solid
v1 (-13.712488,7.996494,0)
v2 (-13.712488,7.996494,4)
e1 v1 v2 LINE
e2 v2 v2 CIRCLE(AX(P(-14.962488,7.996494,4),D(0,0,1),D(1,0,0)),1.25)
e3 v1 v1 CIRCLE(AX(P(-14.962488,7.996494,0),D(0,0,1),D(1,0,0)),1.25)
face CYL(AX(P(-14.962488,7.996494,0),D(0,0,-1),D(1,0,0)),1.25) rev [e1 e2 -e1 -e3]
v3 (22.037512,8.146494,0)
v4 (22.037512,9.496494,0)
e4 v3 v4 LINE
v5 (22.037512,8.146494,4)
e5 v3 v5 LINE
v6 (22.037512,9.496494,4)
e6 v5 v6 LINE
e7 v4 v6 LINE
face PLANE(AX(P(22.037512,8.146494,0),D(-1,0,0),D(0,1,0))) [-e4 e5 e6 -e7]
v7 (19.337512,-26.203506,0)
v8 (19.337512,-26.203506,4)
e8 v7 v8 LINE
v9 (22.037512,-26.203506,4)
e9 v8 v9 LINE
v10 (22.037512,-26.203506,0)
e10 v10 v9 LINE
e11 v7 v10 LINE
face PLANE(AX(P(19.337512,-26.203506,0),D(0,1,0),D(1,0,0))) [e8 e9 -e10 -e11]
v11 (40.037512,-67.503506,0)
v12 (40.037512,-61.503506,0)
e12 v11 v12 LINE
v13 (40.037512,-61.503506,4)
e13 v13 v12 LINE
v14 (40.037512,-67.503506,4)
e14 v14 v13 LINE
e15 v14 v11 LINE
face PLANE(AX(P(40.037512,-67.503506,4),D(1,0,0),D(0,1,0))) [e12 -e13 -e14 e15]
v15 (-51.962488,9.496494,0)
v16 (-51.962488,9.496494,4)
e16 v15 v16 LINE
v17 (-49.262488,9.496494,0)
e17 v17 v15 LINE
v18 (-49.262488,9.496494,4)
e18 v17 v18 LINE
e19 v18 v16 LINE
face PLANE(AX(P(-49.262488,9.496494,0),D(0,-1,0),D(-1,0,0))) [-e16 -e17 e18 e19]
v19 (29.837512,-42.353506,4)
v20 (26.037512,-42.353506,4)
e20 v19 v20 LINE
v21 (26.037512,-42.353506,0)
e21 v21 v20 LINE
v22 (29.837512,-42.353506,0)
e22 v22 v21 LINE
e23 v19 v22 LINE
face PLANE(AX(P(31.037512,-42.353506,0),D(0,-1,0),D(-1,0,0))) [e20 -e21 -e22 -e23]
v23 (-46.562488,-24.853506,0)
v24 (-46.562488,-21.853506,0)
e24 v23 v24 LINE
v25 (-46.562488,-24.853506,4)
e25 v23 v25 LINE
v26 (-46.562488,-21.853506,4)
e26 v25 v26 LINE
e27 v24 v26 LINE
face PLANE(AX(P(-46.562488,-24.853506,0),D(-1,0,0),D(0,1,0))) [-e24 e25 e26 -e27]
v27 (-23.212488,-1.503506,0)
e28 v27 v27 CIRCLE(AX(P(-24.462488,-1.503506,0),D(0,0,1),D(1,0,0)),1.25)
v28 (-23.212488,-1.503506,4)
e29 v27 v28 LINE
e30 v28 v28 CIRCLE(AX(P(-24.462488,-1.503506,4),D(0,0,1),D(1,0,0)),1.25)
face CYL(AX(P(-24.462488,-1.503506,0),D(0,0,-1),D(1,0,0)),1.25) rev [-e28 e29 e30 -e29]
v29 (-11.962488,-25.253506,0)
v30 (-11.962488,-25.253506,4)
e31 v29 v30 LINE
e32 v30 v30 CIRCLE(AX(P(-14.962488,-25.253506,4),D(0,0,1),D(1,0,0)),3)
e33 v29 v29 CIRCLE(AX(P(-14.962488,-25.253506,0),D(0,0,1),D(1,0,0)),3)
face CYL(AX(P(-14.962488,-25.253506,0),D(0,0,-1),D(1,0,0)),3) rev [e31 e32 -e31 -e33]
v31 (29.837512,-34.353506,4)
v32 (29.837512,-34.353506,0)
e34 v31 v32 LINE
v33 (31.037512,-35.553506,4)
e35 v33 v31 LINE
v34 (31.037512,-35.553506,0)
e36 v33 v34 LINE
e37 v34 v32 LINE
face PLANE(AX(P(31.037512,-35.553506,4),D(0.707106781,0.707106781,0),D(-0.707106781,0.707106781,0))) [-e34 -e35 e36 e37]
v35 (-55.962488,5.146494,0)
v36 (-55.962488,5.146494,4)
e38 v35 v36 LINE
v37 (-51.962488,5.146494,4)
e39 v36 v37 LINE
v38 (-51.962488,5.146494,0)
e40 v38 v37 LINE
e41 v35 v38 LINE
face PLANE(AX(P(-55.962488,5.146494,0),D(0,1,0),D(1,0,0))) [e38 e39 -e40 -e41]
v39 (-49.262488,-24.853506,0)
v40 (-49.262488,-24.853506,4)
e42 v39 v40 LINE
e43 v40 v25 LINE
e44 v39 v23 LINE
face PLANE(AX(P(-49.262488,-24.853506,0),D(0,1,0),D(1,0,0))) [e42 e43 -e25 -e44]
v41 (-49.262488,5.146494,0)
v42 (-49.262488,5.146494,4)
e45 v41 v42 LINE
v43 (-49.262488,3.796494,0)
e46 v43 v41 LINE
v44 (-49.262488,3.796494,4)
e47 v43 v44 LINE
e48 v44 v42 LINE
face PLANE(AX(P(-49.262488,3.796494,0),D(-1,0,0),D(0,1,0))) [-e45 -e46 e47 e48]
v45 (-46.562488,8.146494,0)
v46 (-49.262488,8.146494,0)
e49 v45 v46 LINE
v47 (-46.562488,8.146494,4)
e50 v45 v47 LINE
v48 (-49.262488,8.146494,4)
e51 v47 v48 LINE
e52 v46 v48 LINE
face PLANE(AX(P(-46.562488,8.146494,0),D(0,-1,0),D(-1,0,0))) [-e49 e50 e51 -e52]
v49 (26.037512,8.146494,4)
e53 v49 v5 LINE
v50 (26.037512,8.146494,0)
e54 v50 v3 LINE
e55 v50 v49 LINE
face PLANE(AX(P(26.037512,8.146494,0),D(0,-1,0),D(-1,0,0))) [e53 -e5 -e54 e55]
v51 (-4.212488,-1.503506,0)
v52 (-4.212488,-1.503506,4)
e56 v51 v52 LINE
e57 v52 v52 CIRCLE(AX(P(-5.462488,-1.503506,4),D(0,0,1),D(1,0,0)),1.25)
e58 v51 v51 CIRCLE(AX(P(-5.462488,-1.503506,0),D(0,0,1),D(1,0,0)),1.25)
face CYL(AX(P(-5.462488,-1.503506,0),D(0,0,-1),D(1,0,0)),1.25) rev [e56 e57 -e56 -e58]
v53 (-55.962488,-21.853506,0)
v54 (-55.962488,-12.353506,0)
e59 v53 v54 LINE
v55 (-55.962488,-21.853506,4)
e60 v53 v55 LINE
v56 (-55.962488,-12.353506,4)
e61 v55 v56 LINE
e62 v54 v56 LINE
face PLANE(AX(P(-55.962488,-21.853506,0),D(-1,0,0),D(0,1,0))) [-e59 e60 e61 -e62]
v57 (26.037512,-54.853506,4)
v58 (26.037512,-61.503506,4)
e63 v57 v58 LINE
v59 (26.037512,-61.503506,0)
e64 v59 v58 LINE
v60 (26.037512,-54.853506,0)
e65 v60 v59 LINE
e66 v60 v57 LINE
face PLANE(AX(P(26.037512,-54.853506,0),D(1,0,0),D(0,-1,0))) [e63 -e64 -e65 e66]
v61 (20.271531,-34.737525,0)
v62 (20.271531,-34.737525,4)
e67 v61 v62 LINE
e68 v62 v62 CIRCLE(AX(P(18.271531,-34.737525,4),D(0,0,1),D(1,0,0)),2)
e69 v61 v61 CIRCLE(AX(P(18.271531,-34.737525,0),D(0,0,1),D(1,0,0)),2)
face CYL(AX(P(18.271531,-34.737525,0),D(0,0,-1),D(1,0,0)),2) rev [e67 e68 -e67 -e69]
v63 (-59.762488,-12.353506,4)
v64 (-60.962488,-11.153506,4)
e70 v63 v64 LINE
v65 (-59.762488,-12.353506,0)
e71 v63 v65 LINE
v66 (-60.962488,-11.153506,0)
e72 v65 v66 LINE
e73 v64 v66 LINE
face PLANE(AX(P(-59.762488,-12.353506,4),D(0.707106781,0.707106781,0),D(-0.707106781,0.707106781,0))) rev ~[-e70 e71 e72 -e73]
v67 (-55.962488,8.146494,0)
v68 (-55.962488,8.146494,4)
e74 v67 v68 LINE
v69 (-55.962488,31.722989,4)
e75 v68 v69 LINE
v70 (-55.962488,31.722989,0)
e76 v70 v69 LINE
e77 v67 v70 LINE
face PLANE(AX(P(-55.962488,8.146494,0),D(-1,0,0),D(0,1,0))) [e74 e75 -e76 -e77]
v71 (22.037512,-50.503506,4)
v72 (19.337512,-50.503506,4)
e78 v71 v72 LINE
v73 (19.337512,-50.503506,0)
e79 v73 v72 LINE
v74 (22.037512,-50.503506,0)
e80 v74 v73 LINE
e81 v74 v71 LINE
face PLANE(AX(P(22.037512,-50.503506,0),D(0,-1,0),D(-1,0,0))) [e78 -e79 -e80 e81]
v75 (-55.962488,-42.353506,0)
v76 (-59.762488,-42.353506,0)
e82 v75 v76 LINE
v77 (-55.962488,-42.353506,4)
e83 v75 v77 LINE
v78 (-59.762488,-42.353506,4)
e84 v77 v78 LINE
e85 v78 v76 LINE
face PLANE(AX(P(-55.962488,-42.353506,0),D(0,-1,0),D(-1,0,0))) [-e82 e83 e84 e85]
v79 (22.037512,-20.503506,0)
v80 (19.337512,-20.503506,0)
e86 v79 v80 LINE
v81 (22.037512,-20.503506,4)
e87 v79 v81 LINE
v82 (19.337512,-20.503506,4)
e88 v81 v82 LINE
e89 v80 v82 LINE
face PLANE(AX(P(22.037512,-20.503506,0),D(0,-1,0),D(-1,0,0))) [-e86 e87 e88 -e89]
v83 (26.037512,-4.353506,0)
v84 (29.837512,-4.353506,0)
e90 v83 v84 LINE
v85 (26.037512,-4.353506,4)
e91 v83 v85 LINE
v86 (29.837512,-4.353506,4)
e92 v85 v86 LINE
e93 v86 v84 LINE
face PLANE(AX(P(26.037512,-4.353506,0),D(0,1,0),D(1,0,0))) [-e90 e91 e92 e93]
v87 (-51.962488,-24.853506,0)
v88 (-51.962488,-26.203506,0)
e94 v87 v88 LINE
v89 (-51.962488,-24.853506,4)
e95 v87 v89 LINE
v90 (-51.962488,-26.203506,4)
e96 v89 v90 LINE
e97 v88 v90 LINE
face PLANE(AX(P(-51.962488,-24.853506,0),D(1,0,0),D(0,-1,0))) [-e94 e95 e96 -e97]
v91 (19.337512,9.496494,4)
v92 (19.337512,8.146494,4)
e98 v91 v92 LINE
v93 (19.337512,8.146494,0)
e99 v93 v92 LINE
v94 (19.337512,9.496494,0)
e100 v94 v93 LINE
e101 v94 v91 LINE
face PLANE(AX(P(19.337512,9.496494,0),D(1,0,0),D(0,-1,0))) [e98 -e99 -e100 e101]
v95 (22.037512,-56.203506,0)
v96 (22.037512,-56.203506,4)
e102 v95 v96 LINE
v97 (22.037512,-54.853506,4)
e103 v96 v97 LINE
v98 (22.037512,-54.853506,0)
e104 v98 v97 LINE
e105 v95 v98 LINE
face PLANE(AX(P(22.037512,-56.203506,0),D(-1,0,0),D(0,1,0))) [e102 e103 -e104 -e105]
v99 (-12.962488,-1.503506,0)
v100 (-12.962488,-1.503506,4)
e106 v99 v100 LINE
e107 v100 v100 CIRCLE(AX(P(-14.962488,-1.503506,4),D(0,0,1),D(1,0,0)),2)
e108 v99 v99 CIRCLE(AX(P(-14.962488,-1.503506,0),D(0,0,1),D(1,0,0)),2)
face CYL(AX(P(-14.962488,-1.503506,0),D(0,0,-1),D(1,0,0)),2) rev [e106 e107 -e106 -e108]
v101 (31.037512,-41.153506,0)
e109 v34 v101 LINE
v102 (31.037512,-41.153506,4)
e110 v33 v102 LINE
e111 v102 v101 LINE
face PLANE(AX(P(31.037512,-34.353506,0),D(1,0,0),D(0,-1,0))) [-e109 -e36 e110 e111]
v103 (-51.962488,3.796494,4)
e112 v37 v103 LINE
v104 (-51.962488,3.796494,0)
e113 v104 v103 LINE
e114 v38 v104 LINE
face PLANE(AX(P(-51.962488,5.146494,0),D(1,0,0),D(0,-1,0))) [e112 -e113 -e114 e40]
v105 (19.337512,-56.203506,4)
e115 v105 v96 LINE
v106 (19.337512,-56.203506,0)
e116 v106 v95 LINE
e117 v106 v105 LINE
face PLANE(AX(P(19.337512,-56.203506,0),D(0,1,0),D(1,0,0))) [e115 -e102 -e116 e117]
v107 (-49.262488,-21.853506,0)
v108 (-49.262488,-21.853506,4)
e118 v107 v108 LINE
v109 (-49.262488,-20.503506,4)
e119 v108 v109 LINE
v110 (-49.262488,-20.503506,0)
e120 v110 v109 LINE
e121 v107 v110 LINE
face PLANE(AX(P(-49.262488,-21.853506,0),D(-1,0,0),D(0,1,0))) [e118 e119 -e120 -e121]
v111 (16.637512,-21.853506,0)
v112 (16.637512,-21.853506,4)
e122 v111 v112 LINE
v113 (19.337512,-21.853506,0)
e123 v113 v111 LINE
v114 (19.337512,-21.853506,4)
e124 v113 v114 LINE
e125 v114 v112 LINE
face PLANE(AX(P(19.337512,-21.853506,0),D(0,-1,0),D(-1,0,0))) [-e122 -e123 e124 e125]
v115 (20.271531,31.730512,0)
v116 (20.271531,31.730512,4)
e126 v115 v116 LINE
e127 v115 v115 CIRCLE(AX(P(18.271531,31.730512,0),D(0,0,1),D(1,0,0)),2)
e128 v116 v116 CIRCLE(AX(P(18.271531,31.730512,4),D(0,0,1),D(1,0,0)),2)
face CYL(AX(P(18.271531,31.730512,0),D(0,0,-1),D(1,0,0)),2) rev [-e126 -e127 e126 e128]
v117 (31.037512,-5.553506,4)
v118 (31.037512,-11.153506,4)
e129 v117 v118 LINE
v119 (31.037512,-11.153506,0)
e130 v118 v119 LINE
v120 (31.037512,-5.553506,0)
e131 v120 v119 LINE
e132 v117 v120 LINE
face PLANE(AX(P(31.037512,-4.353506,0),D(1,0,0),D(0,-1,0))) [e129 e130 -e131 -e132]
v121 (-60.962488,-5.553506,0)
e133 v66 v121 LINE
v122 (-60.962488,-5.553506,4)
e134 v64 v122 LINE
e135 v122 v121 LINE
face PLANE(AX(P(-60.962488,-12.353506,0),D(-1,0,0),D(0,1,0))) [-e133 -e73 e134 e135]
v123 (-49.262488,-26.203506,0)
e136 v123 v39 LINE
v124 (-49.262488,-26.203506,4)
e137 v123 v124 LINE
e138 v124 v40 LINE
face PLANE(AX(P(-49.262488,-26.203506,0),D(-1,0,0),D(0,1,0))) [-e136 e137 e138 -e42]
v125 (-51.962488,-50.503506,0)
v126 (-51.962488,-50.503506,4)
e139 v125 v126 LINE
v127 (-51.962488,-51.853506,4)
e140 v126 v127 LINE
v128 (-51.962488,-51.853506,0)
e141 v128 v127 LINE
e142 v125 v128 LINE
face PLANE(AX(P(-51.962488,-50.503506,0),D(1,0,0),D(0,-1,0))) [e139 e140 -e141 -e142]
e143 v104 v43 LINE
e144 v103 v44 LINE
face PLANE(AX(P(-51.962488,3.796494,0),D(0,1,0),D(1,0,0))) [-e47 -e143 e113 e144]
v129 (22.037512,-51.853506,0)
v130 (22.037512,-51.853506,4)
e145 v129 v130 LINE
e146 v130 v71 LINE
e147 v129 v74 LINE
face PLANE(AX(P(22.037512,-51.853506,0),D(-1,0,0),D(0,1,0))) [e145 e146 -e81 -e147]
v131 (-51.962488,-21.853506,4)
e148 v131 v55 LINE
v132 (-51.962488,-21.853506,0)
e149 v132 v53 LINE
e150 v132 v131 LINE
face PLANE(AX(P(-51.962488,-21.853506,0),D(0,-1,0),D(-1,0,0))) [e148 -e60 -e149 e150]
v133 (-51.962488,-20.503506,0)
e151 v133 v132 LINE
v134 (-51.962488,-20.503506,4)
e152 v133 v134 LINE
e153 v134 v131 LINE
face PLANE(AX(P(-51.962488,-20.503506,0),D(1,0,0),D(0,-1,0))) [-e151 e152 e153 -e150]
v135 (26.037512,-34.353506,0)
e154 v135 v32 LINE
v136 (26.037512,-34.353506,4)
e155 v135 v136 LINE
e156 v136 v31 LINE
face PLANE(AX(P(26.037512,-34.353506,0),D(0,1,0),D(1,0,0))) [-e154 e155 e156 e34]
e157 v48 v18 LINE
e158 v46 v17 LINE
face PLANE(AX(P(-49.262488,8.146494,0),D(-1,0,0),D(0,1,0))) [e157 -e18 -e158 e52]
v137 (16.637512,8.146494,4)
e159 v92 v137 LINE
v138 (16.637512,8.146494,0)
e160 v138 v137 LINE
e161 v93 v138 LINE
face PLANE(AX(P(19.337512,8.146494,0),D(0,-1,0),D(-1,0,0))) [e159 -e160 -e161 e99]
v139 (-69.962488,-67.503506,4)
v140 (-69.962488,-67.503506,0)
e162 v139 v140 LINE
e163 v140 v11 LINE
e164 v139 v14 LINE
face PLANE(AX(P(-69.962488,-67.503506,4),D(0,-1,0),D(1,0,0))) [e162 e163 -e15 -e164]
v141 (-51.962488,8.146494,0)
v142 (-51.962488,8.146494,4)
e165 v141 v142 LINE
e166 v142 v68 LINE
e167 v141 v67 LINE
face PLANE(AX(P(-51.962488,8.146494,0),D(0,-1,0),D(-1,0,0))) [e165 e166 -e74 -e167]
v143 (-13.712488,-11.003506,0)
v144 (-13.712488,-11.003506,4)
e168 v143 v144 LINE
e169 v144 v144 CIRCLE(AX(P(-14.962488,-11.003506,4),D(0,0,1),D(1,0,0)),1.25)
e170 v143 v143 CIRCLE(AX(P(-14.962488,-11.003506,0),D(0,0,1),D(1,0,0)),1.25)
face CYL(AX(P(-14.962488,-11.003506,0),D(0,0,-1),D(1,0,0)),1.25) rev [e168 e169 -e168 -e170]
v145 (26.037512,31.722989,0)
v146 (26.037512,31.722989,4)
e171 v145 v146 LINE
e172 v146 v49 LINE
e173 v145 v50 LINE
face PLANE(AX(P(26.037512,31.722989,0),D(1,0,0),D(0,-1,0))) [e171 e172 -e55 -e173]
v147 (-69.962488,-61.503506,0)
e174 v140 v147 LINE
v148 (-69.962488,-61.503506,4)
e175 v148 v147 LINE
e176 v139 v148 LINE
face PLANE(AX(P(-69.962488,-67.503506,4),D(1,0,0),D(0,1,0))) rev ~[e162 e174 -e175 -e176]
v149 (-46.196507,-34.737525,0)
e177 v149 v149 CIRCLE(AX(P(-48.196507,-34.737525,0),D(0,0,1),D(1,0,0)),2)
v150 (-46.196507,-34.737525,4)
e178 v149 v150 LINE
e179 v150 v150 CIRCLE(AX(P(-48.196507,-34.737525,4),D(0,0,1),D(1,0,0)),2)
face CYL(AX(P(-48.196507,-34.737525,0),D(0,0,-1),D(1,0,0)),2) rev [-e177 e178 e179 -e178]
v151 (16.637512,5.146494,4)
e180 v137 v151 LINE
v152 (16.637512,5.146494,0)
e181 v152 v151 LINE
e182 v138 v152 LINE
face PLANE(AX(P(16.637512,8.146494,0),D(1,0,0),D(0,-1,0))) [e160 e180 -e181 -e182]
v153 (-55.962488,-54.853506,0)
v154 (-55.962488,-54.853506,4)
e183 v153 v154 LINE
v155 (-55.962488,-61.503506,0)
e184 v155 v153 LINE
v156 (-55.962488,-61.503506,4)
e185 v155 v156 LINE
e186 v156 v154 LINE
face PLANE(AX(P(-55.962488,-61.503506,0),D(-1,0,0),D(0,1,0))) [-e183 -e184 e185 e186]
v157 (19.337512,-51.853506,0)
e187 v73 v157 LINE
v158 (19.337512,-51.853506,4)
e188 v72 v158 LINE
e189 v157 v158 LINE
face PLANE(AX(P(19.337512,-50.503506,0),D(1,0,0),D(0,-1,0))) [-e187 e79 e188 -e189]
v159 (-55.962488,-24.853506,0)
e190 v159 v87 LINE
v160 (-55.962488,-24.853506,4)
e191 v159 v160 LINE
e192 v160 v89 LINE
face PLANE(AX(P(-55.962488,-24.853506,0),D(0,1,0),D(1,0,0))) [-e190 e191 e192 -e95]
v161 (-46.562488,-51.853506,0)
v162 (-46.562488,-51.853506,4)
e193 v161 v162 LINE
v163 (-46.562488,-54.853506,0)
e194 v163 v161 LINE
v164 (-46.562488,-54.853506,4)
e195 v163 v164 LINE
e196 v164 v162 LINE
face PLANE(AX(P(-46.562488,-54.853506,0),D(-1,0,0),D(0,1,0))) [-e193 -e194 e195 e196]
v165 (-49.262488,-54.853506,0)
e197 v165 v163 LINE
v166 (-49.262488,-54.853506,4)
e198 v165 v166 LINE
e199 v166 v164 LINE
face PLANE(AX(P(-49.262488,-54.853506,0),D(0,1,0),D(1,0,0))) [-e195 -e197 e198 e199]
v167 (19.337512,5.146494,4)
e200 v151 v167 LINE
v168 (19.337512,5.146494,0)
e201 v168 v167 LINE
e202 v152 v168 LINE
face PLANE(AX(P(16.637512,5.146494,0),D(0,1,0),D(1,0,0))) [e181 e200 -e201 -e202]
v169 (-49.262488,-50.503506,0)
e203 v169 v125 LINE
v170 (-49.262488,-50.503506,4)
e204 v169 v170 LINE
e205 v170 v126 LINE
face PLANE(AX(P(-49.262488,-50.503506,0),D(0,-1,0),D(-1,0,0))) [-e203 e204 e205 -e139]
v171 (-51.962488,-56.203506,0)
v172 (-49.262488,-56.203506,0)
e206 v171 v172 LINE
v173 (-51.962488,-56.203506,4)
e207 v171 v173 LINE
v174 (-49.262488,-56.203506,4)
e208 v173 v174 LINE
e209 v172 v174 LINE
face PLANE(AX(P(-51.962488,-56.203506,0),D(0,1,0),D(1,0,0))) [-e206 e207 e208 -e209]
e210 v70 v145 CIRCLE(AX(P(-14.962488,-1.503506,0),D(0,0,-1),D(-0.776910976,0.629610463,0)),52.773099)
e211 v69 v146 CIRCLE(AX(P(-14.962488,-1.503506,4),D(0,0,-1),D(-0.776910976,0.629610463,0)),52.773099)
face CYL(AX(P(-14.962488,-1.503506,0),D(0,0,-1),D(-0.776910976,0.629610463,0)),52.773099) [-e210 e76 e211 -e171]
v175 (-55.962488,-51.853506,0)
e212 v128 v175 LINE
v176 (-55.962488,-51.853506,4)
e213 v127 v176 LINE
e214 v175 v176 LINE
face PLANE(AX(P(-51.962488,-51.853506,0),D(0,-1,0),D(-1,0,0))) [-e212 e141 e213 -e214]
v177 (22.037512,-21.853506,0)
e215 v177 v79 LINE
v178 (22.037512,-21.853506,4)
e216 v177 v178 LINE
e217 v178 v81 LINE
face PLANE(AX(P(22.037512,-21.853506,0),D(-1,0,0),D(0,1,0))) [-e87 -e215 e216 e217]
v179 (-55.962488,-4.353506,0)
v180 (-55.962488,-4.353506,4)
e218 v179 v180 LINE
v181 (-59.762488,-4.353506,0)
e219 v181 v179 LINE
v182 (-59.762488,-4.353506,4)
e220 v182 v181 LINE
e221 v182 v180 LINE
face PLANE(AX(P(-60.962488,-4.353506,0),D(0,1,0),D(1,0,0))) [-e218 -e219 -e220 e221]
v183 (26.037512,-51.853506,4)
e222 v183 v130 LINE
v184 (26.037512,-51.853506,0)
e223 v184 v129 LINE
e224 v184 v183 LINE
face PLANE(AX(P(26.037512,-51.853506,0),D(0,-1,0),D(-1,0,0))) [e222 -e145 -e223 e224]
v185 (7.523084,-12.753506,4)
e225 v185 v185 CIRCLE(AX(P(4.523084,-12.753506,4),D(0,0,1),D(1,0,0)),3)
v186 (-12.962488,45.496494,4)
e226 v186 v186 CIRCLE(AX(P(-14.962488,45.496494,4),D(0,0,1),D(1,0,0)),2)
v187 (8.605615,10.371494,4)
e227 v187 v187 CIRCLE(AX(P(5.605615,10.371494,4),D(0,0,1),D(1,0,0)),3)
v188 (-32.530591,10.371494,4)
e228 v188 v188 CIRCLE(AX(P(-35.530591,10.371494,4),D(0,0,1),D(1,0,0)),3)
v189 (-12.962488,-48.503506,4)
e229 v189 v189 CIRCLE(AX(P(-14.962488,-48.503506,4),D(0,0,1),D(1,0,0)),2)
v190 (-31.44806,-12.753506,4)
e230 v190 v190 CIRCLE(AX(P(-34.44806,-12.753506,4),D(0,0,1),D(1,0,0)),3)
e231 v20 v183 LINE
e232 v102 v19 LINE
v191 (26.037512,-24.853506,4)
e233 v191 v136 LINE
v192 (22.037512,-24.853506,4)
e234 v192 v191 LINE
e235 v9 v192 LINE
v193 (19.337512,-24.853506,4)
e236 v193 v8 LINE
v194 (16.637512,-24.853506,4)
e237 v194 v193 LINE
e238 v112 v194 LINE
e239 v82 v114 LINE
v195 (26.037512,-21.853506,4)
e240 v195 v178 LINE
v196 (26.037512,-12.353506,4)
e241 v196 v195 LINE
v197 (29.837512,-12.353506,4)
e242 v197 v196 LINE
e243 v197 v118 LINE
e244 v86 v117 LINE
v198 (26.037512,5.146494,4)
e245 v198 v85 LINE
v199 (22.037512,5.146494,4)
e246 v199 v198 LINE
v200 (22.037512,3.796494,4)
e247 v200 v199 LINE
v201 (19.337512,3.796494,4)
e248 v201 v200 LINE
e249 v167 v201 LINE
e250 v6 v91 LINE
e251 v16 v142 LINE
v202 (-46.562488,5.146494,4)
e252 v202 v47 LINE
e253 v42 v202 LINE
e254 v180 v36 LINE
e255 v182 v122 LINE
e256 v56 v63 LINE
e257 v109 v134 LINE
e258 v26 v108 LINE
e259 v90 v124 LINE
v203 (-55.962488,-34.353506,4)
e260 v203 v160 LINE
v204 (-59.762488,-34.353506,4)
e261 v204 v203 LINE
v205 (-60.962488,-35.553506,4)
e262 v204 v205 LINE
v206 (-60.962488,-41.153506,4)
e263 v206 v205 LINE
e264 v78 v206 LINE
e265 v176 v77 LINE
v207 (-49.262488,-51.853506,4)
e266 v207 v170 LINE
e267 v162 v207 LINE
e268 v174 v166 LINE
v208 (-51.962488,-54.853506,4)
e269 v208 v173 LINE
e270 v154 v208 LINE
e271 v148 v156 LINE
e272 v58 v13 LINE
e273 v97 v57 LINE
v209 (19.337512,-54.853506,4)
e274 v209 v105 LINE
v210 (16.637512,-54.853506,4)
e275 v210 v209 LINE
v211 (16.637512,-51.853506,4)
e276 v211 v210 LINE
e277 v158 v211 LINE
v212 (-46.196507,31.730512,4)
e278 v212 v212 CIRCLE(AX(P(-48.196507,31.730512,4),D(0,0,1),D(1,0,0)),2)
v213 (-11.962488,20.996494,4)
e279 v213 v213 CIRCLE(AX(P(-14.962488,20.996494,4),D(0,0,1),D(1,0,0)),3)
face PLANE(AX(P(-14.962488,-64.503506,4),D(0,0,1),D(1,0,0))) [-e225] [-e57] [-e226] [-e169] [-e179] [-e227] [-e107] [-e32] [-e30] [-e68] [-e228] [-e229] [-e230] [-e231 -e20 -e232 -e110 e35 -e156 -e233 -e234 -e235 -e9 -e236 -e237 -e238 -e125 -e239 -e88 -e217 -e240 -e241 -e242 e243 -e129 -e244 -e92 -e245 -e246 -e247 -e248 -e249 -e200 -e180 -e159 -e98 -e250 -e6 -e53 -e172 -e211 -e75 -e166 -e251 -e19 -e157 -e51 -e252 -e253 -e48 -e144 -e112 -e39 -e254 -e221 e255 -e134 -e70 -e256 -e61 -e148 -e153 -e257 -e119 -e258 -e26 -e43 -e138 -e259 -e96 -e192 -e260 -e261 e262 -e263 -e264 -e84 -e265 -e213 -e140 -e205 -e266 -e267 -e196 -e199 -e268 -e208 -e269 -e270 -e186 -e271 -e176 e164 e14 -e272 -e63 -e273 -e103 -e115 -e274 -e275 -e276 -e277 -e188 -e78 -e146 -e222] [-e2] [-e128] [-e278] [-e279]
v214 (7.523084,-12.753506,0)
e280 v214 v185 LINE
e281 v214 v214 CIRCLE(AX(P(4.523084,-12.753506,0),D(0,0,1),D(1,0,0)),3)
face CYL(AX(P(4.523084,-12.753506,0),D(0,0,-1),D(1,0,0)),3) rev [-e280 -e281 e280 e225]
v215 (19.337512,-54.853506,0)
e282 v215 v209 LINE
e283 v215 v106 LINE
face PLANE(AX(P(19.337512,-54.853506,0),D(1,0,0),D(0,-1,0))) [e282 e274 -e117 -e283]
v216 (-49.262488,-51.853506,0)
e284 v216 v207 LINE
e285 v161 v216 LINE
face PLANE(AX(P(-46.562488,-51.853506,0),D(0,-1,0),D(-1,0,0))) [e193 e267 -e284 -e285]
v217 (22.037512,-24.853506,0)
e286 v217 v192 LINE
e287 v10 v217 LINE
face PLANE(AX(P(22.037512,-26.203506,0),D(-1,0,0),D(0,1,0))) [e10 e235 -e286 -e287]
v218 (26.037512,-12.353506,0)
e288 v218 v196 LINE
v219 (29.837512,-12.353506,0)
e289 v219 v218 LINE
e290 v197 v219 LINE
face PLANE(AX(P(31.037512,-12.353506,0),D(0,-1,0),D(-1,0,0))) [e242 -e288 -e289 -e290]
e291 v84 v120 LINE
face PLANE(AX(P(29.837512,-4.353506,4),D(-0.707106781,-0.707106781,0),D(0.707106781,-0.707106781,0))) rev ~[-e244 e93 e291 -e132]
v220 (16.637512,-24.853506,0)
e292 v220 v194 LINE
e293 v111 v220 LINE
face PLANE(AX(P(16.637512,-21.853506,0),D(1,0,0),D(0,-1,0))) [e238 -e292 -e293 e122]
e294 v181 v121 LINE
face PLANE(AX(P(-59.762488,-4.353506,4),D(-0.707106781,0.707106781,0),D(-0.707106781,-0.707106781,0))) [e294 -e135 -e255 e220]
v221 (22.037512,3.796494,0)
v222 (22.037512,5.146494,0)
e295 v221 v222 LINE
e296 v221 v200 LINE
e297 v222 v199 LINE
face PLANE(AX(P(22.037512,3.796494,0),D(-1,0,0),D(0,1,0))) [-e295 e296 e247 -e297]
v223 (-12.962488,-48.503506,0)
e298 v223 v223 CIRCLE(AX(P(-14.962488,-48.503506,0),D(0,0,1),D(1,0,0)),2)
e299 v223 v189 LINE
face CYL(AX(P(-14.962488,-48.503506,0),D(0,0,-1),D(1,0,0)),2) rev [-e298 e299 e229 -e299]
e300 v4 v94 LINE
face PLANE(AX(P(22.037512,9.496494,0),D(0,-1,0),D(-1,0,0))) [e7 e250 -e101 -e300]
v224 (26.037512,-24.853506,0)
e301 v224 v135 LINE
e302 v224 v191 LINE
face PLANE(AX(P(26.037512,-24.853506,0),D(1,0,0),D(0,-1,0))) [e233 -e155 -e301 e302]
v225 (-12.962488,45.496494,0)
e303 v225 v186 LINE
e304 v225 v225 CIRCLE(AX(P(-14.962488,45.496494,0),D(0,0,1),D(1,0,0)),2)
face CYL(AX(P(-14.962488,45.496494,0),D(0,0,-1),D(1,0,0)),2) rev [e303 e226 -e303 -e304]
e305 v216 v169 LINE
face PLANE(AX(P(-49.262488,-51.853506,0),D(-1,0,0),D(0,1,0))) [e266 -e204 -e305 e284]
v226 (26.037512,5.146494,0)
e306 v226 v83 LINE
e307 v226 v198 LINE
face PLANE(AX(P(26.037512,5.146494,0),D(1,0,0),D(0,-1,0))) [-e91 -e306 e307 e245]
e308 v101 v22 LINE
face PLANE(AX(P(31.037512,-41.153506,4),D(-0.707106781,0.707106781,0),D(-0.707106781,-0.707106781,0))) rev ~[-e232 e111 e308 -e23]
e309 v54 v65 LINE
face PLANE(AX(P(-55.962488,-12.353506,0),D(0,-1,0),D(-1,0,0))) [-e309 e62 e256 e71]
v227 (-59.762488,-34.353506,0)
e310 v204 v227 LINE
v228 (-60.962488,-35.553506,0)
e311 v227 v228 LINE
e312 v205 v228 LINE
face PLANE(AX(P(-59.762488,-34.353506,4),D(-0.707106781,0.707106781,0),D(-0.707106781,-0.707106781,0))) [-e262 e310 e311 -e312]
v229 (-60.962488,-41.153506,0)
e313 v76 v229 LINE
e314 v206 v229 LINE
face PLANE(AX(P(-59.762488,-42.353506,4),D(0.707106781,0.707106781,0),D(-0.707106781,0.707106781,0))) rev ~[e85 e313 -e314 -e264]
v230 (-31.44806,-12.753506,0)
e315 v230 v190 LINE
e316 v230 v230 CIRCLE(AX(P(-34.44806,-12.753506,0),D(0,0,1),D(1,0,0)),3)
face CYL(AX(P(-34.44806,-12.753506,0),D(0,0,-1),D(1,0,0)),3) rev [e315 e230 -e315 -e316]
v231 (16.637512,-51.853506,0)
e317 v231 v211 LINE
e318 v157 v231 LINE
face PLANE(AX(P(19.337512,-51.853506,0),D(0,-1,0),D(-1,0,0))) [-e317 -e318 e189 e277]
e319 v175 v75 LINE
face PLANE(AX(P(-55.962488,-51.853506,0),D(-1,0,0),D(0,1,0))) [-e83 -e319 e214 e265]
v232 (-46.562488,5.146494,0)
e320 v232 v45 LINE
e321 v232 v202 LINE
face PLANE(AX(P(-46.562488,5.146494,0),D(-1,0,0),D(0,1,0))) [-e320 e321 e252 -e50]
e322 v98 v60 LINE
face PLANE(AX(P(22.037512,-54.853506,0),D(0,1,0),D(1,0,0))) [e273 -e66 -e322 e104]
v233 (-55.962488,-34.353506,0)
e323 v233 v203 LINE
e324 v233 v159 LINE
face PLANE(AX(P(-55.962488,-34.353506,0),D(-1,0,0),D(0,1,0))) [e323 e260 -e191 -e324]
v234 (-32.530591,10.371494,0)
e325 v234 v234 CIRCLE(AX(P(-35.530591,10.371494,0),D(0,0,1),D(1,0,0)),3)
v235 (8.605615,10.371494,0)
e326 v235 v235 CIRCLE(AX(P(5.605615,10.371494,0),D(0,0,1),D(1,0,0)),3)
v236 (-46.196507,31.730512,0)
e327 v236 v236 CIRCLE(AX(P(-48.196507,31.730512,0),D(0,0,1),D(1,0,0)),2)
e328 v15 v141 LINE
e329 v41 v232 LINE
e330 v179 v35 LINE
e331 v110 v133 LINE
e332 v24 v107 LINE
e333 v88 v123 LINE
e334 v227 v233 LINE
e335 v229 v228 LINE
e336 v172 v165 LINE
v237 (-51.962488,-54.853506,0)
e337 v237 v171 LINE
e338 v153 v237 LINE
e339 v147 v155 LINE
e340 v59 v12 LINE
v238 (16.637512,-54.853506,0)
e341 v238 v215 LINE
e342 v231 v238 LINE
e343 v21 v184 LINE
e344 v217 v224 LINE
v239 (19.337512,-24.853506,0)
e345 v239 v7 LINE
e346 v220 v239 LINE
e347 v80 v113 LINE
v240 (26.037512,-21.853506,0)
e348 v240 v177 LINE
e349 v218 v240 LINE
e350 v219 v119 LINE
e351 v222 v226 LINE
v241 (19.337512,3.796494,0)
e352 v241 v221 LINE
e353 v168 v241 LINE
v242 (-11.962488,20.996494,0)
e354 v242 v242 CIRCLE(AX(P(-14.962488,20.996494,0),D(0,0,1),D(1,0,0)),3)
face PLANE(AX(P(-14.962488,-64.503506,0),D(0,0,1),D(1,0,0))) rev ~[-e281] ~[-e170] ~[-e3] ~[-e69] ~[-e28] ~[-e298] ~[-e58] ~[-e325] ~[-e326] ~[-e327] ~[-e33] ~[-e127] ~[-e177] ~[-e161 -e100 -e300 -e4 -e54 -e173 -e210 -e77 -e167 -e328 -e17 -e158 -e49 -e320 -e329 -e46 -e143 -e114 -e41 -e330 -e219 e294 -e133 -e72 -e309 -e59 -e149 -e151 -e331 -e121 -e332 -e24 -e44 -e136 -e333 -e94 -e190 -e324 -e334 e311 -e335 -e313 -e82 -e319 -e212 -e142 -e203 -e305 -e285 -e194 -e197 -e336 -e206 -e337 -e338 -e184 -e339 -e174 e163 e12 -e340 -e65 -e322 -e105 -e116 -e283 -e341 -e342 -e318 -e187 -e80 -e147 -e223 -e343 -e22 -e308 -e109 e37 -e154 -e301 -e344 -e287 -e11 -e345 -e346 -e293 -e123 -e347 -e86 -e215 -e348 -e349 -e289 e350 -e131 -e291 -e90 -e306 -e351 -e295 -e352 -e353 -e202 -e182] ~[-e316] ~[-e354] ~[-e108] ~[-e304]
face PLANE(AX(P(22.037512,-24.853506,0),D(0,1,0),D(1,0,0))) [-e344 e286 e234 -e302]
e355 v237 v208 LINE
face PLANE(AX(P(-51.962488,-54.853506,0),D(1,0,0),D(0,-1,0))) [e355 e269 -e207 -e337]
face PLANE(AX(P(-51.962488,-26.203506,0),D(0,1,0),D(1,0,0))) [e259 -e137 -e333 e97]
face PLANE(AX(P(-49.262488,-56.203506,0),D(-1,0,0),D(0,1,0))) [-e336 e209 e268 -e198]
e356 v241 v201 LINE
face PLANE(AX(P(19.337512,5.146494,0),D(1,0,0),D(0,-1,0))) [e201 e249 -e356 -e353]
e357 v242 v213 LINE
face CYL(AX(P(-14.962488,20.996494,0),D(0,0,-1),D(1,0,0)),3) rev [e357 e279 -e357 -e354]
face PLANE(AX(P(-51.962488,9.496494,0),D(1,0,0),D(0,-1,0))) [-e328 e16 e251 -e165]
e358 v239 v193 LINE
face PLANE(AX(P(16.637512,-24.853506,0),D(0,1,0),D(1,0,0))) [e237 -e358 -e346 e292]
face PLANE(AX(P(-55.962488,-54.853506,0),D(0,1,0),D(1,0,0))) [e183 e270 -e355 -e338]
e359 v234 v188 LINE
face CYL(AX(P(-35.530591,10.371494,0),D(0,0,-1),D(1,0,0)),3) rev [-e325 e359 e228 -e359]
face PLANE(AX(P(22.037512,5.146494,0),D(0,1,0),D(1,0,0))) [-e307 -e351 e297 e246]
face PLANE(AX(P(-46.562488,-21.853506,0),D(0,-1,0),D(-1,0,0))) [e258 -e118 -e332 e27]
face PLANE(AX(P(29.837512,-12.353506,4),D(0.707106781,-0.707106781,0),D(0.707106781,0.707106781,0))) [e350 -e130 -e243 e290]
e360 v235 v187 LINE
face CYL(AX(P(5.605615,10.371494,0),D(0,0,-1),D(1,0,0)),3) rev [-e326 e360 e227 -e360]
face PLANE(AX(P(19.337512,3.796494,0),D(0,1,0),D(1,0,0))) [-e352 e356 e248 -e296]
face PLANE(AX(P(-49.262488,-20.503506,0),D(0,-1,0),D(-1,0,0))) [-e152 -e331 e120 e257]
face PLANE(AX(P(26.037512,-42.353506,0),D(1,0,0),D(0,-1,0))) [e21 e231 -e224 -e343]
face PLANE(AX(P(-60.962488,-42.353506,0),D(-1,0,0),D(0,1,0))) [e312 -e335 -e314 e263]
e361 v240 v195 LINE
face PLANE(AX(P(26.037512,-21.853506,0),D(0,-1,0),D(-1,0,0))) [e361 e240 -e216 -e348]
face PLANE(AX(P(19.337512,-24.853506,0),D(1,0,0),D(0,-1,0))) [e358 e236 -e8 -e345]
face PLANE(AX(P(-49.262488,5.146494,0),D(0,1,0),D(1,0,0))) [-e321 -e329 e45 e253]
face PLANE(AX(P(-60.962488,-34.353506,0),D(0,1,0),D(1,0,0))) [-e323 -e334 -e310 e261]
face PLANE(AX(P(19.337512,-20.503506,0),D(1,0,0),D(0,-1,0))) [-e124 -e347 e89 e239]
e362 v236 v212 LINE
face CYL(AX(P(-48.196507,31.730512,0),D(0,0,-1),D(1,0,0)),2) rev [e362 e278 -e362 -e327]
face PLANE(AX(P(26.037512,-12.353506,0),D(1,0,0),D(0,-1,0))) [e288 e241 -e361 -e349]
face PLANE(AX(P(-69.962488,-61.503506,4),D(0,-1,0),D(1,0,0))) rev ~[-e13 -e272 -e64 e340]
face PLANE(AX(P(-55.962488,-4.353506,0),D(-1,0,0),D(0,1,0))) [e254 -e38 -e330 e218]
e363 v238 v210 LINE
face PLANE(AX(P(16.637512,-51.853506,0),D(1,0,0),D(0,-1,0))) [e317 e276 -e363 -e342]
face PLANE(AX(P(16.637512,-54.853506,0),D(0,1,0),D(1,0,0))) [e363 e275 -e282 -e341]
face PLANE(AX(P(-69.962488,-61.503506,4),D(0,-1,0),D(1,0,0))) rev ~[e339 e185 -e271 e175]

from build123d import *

# Parameters (mm, degrees)
SKETCH_1_R          = 3
SKETCH_1_R_2        = 2
SKETCH_1_R_3        = 1.25
EXTRUDE_2_DEPTH     = 4
SKETCH_4_W          = 110
SKETCH_4_H          = 6
EXTRUDE_3_DEPTH     = 4
CUT_EXTRUDE_1_DEPTH = 4


with BuildPart() as part:
    # 草图1 → 凸台-拉伸2 (new body)
    with BuildSketch(Plane.XY):
        with BuildLine():
            Line((26.037512023, -61.503506411), (-55.962487977, -61.503506411))
            Line((-55.962487977, -61.503506411), (-55.962487977, -54.853506411))
            Line((-55.962487977, -54.853506411), (-51.962487977, -54.853506411))
            Line((-51.962487977, -54.853506411), (-51.962487977, -56.203506411))
            Line((-51.962487977, -56.203506411), (-49.262487977, -56.203506411))
            Line((-49.262487977, -56.203506411), (-49.262487977, -54.853506411))
            Line((-49.262487977, -54.853506411), (-46.562487977, -54.853506411))
            Line((-46.562487977, -54.853506411), (-46.562487977, -51.853506411))
            Line((-46.562487977, -51.853506411), (-49.262487977, -51.853506411))
            Line((-49.262487977, -51.853506411), (-49.262487977, -50.503506411))
            Line((-49.262487977, -50.503506411), (-51.962487977, -50.503506411))
            Line((-51.962487977, -50.503506411), (-51.962487977, -51.853506411))
            Line((-51.962487977, -51.853506411), (-55.962487977, -51.853506411))
            Line((-55.962487977, -51.853506411), (-55.962487977, -42.353506411))
            Line((-55.962487977, -42.353506411), (-60.962487977, -42.353506411))
            Line((-60.962487977, -42.353506411), (-60.962487977, -34.353506411))
            Line((-60.962487977, -34.353506411), (-55.962487977, -34.353506411))
            Line((-55.962487977, -34.353506411), (-55.962487977, -24.853506411))
            Line((-55.962487977, -24.853506411), (-51.962487977, -24.853506411))
            Line((-51.962487977, -24.853506411), (-51.962487977, -26.203506411))
            Line((-51.962487977, -26.203506411), (-49.262487977, -26.203506411))
            Line((-49.262487977, -26.203506411), (-49.262487977, -24.853506411))
            Line((-49.262487977, -24.853506411), (-46.562487977, -24.853506411))
            Line((-46.562487977, -24.853506411), (-46.562487977, -21.853506411))
            Line((-46.562487977, -21.853506411), (-49.262487977, -21.853506411))
            Line((-49.262487977, -21.853506411), (-49.262487977, -20.503506411))
            Line((-49.262487977, -20.503506411), (-51.962487977, -20.503506411))
            Line((-51.962487977, -20.503506411), (-51.962487977, -21.853506411))
            Line((-51.962487977, -21.853506411), (-55.962487977, -21.853506411))
            Line((-55.962487977, -21.853506411), (-55.962487977, -12.353506411))
            Line((-55.962487977, -12.353506411), (-60.962487977, -12.353506411))
            Line((-60.962487977, -12.353506411), (-60.962487977, -4.353506411))
            Line((-60.962487977, -4.353506411), (-55.962487977, -4.353506411))
            Line((-55.962487977, -4.353506411), (-55.962487977, 5.146493589))
            Line((-55.962487977, 5.146493589), (-51.962487977, 5.146493589))
            Line((-51.962487977, 5.146493589), (-51.962487977, 3.796493589))
            Line((-51.962487977, 3.796493589), (-49.262487977, 3.796493589))
            Line((-49.262487977, 3.796493589), (-49.262487977, 5.146493589))
            Line((-49.262487977, 5.146493589), (-46.562487977, 5.146493589))
            Line((-46.562487977, 5.146493589), (-46.562487977, 8.146493589))
            Line((-46.562487977, 8.146493589), (-49.262487977, 8.146493589))
            Line((-49.262487977, 8.146493589), (-49.262487977, 9.496493589))
            Line((-49.262487977, 9.496493589), (-51.962487977, 9.496493589))
            Line((-51.962487977, 9.496493589), (-51.962487977, 8.146493589))
            Line((-51.962487977, 8.146493589), (-55.962487977, 8.146493589))
            Line((-55.962487977, 8.146493589), (-55.962487977, 23.496493589))
            Line((-55.962487977, 23.496493589), (-55.962487977, 31.722989041))
            ThreePointArc((-55.962487977, 31.722989041), (-14.962487977, 51.269592797), (26.037512023, 31.722989041))
            Line((26.037512023, 31.722989041), (26.037512023, 23.496493589))
            Line((26.037512023, 23.496493589), (26.037512023, 8.146493589))
            Line((26.037512023, 8.146493589), (22.037512023, 8.146493589))
            Line((22.037512023, 8.146493589), (22.037512023, 9.496493589))
            Line((22.037512023, 9.496493589), (19.337512023, 9.496493589))
            Line((19.337512023, 9.496493589), (19.337512023, 8.146493589))
            Line((19.337512023, 8.146493589), (16.637512023, 8.146493589))
            Line((16.637512023, 8.146493589), (16.637512023, 5.146493589))
            Line((16.637512023, 5.146493589), (19.337512023, 5.146493589))
            Line((19.337512023, 5.146493589), (19.337512023, 3.796493589))
            Line((19.337512023, 3.796493589), (22.037512023, 3.796493589))
            Line((22.037512023, 3.796493589), (22.037512023, 5.146493589))
            Line((22.037512023, 5.146493589), (26.037512023, 5.146493589))
            Line((26.037512023, 5.146493589), (26.037512023, -4.353506411))
            Line((26.037512023, -4.353506411), (31.037512023, -4.353506411))
            Line((31.037512023, -4.353506411), (31.037512023, -12.353506411))
            Line((31.037512023, -12.353506411), (26.037512023, -12.353506411))
            Line((26.037512023, -12.353506411), (26.037512023, -21.853506411))
            Line((26.037512023, -21.853506411), (22.037512023, -21.853506411))
            Line((22.037512023, -21.853506411), (22.037512023, -20.503506411))
            Line((22.037512023, -20.503506411), (19.337512023, -20.503506411))
            Line((19.337512023, -20.503506411), (19.337512023, -21.853506411))
            Line((19.337512023, -21.853506411), (16.637512023, -21.853506411))
            Line((16.637512023, -21.853506411), (16.637512023, -24.853506411))
            Line((16.637512023, -24.853506411), (19.337512023, -24.853506411))
            Line((19.337512023, -24.853506411), (19.337512023, -26.203506411))
            Line((19.337512023, -26.203506411), (22.037512023, -26.203506411))
            Line((22.037512023, -26.203506411), (22.037512023, -24.853506411))
            Line((22.037512023, -24.853506411), (26.037512023, -24.853506411))
            Line((26.037512023, -24.853506411), (26.037512023, -34.353506411))
            Line((26.037512023, -34.353506411), (31.037512023, -34.353506411))
            Line((31.037512023, -34.353506411), (31.037512023, -42.353506411))
            Line((31.037512023, -42.353506411), (26.037512023, -42.353506411))
            Line((26.037512023, -42.353506411), (26.037512023, -51.853506411))
            Line((26.037512023, -51.853506411), (22.037512023, -51.853506411))
            Line((22.037512023, -51.853506411), (22.037512023, -50.503506411))
            Line((22.037512023, -50.503506411), (19.337512023, -50.503506411))
            Line((19.337512023, -50.503506411), (19.337512023, -51.853506411))
            Line((19.337512023, -51.853506411), (16.637512023, -51.853506411))
            Line((16.637512023, -51.853506411), (16.637512023, -54.853506411))
            Line((16.637512023, -54.853506411), (19.337512023, -54.853506411))
            Line((19.337512023, -54.853506411), (19.337512023, -56.203506411))
            Line((19.337512023, -56.203506411), (22.037512023, -56.203506411))
            Line((22.037512023, -56.203506411), (22.037512023, -54.853506411))
            Line((22.037512023, -54.853506411), (26.037512023, -54.853506411))
            Line((26.037512023, -54.853506411), (26.037512023, -61.503506411))
        make_face()
        with Locations((-14.962487977, -25.253506411)):
            Circle(SKETCH_1_R, mode=Mode.SUBTRACT)
        with Locations((4.523083608, -12.753506411)):
            Circle(SKETCH_1_R, mode=Mode.SUBTRACT)
        with Locations((-14.962487977, -1.503506411)):
            Circle(SKETCH_1_R_2, mode=Mode.SUBTRACT)
        with Locations((-35.530591317, 10.371493589)):
            Circle(SKETCH_1_R, mode=Mode.SUBTRACT)
        with Locations((-34.448059562, -12.753506411)):
            Circle(SKETCH_1_R, mode=Mode.SUBTRACT)
        with Locations((5.605615363, 10.371493589)):
            Circle(SKETCH_1_R, mode=Mode.SUBTRACT)
        with Locations((-14.962487977, 20.996493589)):
            Circle(SKETCH_1_R, mode=Mode.SUBTRACT)
        with Locations((18.271530739, -34.737525127)):
            Circle(SKETCH_1_R_2, mode=Mode.SUBTRACT)
        with Locations((-14.962487977, -48.503506411)):
            Circle(SKETCH_1_R_2, mode=Mode.SUBTRACT)
        with Locations((-48.196506692, -34.737525127)):
            Circle(SKETCH_1_R_2, mode=Mode.SUBTRACT)
        with Locations((-48.196506692, 31.730512305)):
            Circle(SKETCH_1_R_2, mode=Mode.SUBTRACT)
        with Locations((-14.962487977, 45.496493589)):
            Circle(SKETCH_1_R_2, mode=Mode.SUBTRACT)
        with Locations((18.271530739, 31.730512305)):
            Circle(SKETCH_1_R_2, mode=Mode.SUBTRACT)
        with Locations((-14.962487977, 7.996493589)):
            Circle(SKETCH_1_R_3, mode=Mode.SUBTRACT)
        with Locations((-5.462487977, -1.503506411)):
            Circle(SKETCH_1_R_3, mode=Mode.SUBTRACT)
        with Locations((-14.962487977, -11.003506411)):
            Circle(SKETCH_1_R_3, mode=Mode.SUBTRACT)
        with Locations((-24.462487977, -1.503506411)):
            Circle(SKETCH_1_R_3, mode=Mode.SUBTRACT)
    extrude(amount=EXTRUDE_2_DEPTH)

    # 草图4 → 凸台-拉伸3 (add)
    with BuildSketch(Plane.XY.offset(4)):
        with Locations((-14.962487977, -64.503506411)):
            Rectangle(SKETCH_4_W, SKETCH_4_H)
    extrude(amount=-EXTRUDE_3_DEPTH)

    # 草图5 → 切除-拉伸1 (cut)
    with BuildSketch(Plane.XY.offset(4)):
        Polygon((-60.962487977, -4.353506411), (-59.762487977, -4.353506411), (-60.962487977, -5.553506411), align=None)
        Polygon((-60.962487977, -12.353506411), (-59.762487977, -12.353506411), (-60.962487977, -11.153506411), align=None)
        Polygon((-60.962487977, -34.353506411), (-59.762487977, -34.353506411), (-60.962487977, -35.553506411), align=None)
        Polygon((-60.962487977, -42.353506411), (-59.762487977, -42.353506411), (-60.962487977, -41.153506411), align=None)
        Polygon((31.037512023, -42.353506411), (31.037512023, -41.153506411), (29.837512023, -42.353506411), align=None)
        Polygon((29.837512023, -34.353506411), (31.037512023, -34.353506411), (31.037512023, -35.553506411), align=None)
        Polygon((31.037512023, -12.353506411), (29.837512023, -12.353506411), (31.037512023, -11.153506411), align=None)
        Polygon((31.037512023, -4.353506411), (29.837512023, -4.353506411), (31.037512023, -5.553506411), align=None)
    extrude(amount=-CUT_EXTRUDE_1_DEPTH, mode=Mode.SUBTRACT)


solid = part.part
